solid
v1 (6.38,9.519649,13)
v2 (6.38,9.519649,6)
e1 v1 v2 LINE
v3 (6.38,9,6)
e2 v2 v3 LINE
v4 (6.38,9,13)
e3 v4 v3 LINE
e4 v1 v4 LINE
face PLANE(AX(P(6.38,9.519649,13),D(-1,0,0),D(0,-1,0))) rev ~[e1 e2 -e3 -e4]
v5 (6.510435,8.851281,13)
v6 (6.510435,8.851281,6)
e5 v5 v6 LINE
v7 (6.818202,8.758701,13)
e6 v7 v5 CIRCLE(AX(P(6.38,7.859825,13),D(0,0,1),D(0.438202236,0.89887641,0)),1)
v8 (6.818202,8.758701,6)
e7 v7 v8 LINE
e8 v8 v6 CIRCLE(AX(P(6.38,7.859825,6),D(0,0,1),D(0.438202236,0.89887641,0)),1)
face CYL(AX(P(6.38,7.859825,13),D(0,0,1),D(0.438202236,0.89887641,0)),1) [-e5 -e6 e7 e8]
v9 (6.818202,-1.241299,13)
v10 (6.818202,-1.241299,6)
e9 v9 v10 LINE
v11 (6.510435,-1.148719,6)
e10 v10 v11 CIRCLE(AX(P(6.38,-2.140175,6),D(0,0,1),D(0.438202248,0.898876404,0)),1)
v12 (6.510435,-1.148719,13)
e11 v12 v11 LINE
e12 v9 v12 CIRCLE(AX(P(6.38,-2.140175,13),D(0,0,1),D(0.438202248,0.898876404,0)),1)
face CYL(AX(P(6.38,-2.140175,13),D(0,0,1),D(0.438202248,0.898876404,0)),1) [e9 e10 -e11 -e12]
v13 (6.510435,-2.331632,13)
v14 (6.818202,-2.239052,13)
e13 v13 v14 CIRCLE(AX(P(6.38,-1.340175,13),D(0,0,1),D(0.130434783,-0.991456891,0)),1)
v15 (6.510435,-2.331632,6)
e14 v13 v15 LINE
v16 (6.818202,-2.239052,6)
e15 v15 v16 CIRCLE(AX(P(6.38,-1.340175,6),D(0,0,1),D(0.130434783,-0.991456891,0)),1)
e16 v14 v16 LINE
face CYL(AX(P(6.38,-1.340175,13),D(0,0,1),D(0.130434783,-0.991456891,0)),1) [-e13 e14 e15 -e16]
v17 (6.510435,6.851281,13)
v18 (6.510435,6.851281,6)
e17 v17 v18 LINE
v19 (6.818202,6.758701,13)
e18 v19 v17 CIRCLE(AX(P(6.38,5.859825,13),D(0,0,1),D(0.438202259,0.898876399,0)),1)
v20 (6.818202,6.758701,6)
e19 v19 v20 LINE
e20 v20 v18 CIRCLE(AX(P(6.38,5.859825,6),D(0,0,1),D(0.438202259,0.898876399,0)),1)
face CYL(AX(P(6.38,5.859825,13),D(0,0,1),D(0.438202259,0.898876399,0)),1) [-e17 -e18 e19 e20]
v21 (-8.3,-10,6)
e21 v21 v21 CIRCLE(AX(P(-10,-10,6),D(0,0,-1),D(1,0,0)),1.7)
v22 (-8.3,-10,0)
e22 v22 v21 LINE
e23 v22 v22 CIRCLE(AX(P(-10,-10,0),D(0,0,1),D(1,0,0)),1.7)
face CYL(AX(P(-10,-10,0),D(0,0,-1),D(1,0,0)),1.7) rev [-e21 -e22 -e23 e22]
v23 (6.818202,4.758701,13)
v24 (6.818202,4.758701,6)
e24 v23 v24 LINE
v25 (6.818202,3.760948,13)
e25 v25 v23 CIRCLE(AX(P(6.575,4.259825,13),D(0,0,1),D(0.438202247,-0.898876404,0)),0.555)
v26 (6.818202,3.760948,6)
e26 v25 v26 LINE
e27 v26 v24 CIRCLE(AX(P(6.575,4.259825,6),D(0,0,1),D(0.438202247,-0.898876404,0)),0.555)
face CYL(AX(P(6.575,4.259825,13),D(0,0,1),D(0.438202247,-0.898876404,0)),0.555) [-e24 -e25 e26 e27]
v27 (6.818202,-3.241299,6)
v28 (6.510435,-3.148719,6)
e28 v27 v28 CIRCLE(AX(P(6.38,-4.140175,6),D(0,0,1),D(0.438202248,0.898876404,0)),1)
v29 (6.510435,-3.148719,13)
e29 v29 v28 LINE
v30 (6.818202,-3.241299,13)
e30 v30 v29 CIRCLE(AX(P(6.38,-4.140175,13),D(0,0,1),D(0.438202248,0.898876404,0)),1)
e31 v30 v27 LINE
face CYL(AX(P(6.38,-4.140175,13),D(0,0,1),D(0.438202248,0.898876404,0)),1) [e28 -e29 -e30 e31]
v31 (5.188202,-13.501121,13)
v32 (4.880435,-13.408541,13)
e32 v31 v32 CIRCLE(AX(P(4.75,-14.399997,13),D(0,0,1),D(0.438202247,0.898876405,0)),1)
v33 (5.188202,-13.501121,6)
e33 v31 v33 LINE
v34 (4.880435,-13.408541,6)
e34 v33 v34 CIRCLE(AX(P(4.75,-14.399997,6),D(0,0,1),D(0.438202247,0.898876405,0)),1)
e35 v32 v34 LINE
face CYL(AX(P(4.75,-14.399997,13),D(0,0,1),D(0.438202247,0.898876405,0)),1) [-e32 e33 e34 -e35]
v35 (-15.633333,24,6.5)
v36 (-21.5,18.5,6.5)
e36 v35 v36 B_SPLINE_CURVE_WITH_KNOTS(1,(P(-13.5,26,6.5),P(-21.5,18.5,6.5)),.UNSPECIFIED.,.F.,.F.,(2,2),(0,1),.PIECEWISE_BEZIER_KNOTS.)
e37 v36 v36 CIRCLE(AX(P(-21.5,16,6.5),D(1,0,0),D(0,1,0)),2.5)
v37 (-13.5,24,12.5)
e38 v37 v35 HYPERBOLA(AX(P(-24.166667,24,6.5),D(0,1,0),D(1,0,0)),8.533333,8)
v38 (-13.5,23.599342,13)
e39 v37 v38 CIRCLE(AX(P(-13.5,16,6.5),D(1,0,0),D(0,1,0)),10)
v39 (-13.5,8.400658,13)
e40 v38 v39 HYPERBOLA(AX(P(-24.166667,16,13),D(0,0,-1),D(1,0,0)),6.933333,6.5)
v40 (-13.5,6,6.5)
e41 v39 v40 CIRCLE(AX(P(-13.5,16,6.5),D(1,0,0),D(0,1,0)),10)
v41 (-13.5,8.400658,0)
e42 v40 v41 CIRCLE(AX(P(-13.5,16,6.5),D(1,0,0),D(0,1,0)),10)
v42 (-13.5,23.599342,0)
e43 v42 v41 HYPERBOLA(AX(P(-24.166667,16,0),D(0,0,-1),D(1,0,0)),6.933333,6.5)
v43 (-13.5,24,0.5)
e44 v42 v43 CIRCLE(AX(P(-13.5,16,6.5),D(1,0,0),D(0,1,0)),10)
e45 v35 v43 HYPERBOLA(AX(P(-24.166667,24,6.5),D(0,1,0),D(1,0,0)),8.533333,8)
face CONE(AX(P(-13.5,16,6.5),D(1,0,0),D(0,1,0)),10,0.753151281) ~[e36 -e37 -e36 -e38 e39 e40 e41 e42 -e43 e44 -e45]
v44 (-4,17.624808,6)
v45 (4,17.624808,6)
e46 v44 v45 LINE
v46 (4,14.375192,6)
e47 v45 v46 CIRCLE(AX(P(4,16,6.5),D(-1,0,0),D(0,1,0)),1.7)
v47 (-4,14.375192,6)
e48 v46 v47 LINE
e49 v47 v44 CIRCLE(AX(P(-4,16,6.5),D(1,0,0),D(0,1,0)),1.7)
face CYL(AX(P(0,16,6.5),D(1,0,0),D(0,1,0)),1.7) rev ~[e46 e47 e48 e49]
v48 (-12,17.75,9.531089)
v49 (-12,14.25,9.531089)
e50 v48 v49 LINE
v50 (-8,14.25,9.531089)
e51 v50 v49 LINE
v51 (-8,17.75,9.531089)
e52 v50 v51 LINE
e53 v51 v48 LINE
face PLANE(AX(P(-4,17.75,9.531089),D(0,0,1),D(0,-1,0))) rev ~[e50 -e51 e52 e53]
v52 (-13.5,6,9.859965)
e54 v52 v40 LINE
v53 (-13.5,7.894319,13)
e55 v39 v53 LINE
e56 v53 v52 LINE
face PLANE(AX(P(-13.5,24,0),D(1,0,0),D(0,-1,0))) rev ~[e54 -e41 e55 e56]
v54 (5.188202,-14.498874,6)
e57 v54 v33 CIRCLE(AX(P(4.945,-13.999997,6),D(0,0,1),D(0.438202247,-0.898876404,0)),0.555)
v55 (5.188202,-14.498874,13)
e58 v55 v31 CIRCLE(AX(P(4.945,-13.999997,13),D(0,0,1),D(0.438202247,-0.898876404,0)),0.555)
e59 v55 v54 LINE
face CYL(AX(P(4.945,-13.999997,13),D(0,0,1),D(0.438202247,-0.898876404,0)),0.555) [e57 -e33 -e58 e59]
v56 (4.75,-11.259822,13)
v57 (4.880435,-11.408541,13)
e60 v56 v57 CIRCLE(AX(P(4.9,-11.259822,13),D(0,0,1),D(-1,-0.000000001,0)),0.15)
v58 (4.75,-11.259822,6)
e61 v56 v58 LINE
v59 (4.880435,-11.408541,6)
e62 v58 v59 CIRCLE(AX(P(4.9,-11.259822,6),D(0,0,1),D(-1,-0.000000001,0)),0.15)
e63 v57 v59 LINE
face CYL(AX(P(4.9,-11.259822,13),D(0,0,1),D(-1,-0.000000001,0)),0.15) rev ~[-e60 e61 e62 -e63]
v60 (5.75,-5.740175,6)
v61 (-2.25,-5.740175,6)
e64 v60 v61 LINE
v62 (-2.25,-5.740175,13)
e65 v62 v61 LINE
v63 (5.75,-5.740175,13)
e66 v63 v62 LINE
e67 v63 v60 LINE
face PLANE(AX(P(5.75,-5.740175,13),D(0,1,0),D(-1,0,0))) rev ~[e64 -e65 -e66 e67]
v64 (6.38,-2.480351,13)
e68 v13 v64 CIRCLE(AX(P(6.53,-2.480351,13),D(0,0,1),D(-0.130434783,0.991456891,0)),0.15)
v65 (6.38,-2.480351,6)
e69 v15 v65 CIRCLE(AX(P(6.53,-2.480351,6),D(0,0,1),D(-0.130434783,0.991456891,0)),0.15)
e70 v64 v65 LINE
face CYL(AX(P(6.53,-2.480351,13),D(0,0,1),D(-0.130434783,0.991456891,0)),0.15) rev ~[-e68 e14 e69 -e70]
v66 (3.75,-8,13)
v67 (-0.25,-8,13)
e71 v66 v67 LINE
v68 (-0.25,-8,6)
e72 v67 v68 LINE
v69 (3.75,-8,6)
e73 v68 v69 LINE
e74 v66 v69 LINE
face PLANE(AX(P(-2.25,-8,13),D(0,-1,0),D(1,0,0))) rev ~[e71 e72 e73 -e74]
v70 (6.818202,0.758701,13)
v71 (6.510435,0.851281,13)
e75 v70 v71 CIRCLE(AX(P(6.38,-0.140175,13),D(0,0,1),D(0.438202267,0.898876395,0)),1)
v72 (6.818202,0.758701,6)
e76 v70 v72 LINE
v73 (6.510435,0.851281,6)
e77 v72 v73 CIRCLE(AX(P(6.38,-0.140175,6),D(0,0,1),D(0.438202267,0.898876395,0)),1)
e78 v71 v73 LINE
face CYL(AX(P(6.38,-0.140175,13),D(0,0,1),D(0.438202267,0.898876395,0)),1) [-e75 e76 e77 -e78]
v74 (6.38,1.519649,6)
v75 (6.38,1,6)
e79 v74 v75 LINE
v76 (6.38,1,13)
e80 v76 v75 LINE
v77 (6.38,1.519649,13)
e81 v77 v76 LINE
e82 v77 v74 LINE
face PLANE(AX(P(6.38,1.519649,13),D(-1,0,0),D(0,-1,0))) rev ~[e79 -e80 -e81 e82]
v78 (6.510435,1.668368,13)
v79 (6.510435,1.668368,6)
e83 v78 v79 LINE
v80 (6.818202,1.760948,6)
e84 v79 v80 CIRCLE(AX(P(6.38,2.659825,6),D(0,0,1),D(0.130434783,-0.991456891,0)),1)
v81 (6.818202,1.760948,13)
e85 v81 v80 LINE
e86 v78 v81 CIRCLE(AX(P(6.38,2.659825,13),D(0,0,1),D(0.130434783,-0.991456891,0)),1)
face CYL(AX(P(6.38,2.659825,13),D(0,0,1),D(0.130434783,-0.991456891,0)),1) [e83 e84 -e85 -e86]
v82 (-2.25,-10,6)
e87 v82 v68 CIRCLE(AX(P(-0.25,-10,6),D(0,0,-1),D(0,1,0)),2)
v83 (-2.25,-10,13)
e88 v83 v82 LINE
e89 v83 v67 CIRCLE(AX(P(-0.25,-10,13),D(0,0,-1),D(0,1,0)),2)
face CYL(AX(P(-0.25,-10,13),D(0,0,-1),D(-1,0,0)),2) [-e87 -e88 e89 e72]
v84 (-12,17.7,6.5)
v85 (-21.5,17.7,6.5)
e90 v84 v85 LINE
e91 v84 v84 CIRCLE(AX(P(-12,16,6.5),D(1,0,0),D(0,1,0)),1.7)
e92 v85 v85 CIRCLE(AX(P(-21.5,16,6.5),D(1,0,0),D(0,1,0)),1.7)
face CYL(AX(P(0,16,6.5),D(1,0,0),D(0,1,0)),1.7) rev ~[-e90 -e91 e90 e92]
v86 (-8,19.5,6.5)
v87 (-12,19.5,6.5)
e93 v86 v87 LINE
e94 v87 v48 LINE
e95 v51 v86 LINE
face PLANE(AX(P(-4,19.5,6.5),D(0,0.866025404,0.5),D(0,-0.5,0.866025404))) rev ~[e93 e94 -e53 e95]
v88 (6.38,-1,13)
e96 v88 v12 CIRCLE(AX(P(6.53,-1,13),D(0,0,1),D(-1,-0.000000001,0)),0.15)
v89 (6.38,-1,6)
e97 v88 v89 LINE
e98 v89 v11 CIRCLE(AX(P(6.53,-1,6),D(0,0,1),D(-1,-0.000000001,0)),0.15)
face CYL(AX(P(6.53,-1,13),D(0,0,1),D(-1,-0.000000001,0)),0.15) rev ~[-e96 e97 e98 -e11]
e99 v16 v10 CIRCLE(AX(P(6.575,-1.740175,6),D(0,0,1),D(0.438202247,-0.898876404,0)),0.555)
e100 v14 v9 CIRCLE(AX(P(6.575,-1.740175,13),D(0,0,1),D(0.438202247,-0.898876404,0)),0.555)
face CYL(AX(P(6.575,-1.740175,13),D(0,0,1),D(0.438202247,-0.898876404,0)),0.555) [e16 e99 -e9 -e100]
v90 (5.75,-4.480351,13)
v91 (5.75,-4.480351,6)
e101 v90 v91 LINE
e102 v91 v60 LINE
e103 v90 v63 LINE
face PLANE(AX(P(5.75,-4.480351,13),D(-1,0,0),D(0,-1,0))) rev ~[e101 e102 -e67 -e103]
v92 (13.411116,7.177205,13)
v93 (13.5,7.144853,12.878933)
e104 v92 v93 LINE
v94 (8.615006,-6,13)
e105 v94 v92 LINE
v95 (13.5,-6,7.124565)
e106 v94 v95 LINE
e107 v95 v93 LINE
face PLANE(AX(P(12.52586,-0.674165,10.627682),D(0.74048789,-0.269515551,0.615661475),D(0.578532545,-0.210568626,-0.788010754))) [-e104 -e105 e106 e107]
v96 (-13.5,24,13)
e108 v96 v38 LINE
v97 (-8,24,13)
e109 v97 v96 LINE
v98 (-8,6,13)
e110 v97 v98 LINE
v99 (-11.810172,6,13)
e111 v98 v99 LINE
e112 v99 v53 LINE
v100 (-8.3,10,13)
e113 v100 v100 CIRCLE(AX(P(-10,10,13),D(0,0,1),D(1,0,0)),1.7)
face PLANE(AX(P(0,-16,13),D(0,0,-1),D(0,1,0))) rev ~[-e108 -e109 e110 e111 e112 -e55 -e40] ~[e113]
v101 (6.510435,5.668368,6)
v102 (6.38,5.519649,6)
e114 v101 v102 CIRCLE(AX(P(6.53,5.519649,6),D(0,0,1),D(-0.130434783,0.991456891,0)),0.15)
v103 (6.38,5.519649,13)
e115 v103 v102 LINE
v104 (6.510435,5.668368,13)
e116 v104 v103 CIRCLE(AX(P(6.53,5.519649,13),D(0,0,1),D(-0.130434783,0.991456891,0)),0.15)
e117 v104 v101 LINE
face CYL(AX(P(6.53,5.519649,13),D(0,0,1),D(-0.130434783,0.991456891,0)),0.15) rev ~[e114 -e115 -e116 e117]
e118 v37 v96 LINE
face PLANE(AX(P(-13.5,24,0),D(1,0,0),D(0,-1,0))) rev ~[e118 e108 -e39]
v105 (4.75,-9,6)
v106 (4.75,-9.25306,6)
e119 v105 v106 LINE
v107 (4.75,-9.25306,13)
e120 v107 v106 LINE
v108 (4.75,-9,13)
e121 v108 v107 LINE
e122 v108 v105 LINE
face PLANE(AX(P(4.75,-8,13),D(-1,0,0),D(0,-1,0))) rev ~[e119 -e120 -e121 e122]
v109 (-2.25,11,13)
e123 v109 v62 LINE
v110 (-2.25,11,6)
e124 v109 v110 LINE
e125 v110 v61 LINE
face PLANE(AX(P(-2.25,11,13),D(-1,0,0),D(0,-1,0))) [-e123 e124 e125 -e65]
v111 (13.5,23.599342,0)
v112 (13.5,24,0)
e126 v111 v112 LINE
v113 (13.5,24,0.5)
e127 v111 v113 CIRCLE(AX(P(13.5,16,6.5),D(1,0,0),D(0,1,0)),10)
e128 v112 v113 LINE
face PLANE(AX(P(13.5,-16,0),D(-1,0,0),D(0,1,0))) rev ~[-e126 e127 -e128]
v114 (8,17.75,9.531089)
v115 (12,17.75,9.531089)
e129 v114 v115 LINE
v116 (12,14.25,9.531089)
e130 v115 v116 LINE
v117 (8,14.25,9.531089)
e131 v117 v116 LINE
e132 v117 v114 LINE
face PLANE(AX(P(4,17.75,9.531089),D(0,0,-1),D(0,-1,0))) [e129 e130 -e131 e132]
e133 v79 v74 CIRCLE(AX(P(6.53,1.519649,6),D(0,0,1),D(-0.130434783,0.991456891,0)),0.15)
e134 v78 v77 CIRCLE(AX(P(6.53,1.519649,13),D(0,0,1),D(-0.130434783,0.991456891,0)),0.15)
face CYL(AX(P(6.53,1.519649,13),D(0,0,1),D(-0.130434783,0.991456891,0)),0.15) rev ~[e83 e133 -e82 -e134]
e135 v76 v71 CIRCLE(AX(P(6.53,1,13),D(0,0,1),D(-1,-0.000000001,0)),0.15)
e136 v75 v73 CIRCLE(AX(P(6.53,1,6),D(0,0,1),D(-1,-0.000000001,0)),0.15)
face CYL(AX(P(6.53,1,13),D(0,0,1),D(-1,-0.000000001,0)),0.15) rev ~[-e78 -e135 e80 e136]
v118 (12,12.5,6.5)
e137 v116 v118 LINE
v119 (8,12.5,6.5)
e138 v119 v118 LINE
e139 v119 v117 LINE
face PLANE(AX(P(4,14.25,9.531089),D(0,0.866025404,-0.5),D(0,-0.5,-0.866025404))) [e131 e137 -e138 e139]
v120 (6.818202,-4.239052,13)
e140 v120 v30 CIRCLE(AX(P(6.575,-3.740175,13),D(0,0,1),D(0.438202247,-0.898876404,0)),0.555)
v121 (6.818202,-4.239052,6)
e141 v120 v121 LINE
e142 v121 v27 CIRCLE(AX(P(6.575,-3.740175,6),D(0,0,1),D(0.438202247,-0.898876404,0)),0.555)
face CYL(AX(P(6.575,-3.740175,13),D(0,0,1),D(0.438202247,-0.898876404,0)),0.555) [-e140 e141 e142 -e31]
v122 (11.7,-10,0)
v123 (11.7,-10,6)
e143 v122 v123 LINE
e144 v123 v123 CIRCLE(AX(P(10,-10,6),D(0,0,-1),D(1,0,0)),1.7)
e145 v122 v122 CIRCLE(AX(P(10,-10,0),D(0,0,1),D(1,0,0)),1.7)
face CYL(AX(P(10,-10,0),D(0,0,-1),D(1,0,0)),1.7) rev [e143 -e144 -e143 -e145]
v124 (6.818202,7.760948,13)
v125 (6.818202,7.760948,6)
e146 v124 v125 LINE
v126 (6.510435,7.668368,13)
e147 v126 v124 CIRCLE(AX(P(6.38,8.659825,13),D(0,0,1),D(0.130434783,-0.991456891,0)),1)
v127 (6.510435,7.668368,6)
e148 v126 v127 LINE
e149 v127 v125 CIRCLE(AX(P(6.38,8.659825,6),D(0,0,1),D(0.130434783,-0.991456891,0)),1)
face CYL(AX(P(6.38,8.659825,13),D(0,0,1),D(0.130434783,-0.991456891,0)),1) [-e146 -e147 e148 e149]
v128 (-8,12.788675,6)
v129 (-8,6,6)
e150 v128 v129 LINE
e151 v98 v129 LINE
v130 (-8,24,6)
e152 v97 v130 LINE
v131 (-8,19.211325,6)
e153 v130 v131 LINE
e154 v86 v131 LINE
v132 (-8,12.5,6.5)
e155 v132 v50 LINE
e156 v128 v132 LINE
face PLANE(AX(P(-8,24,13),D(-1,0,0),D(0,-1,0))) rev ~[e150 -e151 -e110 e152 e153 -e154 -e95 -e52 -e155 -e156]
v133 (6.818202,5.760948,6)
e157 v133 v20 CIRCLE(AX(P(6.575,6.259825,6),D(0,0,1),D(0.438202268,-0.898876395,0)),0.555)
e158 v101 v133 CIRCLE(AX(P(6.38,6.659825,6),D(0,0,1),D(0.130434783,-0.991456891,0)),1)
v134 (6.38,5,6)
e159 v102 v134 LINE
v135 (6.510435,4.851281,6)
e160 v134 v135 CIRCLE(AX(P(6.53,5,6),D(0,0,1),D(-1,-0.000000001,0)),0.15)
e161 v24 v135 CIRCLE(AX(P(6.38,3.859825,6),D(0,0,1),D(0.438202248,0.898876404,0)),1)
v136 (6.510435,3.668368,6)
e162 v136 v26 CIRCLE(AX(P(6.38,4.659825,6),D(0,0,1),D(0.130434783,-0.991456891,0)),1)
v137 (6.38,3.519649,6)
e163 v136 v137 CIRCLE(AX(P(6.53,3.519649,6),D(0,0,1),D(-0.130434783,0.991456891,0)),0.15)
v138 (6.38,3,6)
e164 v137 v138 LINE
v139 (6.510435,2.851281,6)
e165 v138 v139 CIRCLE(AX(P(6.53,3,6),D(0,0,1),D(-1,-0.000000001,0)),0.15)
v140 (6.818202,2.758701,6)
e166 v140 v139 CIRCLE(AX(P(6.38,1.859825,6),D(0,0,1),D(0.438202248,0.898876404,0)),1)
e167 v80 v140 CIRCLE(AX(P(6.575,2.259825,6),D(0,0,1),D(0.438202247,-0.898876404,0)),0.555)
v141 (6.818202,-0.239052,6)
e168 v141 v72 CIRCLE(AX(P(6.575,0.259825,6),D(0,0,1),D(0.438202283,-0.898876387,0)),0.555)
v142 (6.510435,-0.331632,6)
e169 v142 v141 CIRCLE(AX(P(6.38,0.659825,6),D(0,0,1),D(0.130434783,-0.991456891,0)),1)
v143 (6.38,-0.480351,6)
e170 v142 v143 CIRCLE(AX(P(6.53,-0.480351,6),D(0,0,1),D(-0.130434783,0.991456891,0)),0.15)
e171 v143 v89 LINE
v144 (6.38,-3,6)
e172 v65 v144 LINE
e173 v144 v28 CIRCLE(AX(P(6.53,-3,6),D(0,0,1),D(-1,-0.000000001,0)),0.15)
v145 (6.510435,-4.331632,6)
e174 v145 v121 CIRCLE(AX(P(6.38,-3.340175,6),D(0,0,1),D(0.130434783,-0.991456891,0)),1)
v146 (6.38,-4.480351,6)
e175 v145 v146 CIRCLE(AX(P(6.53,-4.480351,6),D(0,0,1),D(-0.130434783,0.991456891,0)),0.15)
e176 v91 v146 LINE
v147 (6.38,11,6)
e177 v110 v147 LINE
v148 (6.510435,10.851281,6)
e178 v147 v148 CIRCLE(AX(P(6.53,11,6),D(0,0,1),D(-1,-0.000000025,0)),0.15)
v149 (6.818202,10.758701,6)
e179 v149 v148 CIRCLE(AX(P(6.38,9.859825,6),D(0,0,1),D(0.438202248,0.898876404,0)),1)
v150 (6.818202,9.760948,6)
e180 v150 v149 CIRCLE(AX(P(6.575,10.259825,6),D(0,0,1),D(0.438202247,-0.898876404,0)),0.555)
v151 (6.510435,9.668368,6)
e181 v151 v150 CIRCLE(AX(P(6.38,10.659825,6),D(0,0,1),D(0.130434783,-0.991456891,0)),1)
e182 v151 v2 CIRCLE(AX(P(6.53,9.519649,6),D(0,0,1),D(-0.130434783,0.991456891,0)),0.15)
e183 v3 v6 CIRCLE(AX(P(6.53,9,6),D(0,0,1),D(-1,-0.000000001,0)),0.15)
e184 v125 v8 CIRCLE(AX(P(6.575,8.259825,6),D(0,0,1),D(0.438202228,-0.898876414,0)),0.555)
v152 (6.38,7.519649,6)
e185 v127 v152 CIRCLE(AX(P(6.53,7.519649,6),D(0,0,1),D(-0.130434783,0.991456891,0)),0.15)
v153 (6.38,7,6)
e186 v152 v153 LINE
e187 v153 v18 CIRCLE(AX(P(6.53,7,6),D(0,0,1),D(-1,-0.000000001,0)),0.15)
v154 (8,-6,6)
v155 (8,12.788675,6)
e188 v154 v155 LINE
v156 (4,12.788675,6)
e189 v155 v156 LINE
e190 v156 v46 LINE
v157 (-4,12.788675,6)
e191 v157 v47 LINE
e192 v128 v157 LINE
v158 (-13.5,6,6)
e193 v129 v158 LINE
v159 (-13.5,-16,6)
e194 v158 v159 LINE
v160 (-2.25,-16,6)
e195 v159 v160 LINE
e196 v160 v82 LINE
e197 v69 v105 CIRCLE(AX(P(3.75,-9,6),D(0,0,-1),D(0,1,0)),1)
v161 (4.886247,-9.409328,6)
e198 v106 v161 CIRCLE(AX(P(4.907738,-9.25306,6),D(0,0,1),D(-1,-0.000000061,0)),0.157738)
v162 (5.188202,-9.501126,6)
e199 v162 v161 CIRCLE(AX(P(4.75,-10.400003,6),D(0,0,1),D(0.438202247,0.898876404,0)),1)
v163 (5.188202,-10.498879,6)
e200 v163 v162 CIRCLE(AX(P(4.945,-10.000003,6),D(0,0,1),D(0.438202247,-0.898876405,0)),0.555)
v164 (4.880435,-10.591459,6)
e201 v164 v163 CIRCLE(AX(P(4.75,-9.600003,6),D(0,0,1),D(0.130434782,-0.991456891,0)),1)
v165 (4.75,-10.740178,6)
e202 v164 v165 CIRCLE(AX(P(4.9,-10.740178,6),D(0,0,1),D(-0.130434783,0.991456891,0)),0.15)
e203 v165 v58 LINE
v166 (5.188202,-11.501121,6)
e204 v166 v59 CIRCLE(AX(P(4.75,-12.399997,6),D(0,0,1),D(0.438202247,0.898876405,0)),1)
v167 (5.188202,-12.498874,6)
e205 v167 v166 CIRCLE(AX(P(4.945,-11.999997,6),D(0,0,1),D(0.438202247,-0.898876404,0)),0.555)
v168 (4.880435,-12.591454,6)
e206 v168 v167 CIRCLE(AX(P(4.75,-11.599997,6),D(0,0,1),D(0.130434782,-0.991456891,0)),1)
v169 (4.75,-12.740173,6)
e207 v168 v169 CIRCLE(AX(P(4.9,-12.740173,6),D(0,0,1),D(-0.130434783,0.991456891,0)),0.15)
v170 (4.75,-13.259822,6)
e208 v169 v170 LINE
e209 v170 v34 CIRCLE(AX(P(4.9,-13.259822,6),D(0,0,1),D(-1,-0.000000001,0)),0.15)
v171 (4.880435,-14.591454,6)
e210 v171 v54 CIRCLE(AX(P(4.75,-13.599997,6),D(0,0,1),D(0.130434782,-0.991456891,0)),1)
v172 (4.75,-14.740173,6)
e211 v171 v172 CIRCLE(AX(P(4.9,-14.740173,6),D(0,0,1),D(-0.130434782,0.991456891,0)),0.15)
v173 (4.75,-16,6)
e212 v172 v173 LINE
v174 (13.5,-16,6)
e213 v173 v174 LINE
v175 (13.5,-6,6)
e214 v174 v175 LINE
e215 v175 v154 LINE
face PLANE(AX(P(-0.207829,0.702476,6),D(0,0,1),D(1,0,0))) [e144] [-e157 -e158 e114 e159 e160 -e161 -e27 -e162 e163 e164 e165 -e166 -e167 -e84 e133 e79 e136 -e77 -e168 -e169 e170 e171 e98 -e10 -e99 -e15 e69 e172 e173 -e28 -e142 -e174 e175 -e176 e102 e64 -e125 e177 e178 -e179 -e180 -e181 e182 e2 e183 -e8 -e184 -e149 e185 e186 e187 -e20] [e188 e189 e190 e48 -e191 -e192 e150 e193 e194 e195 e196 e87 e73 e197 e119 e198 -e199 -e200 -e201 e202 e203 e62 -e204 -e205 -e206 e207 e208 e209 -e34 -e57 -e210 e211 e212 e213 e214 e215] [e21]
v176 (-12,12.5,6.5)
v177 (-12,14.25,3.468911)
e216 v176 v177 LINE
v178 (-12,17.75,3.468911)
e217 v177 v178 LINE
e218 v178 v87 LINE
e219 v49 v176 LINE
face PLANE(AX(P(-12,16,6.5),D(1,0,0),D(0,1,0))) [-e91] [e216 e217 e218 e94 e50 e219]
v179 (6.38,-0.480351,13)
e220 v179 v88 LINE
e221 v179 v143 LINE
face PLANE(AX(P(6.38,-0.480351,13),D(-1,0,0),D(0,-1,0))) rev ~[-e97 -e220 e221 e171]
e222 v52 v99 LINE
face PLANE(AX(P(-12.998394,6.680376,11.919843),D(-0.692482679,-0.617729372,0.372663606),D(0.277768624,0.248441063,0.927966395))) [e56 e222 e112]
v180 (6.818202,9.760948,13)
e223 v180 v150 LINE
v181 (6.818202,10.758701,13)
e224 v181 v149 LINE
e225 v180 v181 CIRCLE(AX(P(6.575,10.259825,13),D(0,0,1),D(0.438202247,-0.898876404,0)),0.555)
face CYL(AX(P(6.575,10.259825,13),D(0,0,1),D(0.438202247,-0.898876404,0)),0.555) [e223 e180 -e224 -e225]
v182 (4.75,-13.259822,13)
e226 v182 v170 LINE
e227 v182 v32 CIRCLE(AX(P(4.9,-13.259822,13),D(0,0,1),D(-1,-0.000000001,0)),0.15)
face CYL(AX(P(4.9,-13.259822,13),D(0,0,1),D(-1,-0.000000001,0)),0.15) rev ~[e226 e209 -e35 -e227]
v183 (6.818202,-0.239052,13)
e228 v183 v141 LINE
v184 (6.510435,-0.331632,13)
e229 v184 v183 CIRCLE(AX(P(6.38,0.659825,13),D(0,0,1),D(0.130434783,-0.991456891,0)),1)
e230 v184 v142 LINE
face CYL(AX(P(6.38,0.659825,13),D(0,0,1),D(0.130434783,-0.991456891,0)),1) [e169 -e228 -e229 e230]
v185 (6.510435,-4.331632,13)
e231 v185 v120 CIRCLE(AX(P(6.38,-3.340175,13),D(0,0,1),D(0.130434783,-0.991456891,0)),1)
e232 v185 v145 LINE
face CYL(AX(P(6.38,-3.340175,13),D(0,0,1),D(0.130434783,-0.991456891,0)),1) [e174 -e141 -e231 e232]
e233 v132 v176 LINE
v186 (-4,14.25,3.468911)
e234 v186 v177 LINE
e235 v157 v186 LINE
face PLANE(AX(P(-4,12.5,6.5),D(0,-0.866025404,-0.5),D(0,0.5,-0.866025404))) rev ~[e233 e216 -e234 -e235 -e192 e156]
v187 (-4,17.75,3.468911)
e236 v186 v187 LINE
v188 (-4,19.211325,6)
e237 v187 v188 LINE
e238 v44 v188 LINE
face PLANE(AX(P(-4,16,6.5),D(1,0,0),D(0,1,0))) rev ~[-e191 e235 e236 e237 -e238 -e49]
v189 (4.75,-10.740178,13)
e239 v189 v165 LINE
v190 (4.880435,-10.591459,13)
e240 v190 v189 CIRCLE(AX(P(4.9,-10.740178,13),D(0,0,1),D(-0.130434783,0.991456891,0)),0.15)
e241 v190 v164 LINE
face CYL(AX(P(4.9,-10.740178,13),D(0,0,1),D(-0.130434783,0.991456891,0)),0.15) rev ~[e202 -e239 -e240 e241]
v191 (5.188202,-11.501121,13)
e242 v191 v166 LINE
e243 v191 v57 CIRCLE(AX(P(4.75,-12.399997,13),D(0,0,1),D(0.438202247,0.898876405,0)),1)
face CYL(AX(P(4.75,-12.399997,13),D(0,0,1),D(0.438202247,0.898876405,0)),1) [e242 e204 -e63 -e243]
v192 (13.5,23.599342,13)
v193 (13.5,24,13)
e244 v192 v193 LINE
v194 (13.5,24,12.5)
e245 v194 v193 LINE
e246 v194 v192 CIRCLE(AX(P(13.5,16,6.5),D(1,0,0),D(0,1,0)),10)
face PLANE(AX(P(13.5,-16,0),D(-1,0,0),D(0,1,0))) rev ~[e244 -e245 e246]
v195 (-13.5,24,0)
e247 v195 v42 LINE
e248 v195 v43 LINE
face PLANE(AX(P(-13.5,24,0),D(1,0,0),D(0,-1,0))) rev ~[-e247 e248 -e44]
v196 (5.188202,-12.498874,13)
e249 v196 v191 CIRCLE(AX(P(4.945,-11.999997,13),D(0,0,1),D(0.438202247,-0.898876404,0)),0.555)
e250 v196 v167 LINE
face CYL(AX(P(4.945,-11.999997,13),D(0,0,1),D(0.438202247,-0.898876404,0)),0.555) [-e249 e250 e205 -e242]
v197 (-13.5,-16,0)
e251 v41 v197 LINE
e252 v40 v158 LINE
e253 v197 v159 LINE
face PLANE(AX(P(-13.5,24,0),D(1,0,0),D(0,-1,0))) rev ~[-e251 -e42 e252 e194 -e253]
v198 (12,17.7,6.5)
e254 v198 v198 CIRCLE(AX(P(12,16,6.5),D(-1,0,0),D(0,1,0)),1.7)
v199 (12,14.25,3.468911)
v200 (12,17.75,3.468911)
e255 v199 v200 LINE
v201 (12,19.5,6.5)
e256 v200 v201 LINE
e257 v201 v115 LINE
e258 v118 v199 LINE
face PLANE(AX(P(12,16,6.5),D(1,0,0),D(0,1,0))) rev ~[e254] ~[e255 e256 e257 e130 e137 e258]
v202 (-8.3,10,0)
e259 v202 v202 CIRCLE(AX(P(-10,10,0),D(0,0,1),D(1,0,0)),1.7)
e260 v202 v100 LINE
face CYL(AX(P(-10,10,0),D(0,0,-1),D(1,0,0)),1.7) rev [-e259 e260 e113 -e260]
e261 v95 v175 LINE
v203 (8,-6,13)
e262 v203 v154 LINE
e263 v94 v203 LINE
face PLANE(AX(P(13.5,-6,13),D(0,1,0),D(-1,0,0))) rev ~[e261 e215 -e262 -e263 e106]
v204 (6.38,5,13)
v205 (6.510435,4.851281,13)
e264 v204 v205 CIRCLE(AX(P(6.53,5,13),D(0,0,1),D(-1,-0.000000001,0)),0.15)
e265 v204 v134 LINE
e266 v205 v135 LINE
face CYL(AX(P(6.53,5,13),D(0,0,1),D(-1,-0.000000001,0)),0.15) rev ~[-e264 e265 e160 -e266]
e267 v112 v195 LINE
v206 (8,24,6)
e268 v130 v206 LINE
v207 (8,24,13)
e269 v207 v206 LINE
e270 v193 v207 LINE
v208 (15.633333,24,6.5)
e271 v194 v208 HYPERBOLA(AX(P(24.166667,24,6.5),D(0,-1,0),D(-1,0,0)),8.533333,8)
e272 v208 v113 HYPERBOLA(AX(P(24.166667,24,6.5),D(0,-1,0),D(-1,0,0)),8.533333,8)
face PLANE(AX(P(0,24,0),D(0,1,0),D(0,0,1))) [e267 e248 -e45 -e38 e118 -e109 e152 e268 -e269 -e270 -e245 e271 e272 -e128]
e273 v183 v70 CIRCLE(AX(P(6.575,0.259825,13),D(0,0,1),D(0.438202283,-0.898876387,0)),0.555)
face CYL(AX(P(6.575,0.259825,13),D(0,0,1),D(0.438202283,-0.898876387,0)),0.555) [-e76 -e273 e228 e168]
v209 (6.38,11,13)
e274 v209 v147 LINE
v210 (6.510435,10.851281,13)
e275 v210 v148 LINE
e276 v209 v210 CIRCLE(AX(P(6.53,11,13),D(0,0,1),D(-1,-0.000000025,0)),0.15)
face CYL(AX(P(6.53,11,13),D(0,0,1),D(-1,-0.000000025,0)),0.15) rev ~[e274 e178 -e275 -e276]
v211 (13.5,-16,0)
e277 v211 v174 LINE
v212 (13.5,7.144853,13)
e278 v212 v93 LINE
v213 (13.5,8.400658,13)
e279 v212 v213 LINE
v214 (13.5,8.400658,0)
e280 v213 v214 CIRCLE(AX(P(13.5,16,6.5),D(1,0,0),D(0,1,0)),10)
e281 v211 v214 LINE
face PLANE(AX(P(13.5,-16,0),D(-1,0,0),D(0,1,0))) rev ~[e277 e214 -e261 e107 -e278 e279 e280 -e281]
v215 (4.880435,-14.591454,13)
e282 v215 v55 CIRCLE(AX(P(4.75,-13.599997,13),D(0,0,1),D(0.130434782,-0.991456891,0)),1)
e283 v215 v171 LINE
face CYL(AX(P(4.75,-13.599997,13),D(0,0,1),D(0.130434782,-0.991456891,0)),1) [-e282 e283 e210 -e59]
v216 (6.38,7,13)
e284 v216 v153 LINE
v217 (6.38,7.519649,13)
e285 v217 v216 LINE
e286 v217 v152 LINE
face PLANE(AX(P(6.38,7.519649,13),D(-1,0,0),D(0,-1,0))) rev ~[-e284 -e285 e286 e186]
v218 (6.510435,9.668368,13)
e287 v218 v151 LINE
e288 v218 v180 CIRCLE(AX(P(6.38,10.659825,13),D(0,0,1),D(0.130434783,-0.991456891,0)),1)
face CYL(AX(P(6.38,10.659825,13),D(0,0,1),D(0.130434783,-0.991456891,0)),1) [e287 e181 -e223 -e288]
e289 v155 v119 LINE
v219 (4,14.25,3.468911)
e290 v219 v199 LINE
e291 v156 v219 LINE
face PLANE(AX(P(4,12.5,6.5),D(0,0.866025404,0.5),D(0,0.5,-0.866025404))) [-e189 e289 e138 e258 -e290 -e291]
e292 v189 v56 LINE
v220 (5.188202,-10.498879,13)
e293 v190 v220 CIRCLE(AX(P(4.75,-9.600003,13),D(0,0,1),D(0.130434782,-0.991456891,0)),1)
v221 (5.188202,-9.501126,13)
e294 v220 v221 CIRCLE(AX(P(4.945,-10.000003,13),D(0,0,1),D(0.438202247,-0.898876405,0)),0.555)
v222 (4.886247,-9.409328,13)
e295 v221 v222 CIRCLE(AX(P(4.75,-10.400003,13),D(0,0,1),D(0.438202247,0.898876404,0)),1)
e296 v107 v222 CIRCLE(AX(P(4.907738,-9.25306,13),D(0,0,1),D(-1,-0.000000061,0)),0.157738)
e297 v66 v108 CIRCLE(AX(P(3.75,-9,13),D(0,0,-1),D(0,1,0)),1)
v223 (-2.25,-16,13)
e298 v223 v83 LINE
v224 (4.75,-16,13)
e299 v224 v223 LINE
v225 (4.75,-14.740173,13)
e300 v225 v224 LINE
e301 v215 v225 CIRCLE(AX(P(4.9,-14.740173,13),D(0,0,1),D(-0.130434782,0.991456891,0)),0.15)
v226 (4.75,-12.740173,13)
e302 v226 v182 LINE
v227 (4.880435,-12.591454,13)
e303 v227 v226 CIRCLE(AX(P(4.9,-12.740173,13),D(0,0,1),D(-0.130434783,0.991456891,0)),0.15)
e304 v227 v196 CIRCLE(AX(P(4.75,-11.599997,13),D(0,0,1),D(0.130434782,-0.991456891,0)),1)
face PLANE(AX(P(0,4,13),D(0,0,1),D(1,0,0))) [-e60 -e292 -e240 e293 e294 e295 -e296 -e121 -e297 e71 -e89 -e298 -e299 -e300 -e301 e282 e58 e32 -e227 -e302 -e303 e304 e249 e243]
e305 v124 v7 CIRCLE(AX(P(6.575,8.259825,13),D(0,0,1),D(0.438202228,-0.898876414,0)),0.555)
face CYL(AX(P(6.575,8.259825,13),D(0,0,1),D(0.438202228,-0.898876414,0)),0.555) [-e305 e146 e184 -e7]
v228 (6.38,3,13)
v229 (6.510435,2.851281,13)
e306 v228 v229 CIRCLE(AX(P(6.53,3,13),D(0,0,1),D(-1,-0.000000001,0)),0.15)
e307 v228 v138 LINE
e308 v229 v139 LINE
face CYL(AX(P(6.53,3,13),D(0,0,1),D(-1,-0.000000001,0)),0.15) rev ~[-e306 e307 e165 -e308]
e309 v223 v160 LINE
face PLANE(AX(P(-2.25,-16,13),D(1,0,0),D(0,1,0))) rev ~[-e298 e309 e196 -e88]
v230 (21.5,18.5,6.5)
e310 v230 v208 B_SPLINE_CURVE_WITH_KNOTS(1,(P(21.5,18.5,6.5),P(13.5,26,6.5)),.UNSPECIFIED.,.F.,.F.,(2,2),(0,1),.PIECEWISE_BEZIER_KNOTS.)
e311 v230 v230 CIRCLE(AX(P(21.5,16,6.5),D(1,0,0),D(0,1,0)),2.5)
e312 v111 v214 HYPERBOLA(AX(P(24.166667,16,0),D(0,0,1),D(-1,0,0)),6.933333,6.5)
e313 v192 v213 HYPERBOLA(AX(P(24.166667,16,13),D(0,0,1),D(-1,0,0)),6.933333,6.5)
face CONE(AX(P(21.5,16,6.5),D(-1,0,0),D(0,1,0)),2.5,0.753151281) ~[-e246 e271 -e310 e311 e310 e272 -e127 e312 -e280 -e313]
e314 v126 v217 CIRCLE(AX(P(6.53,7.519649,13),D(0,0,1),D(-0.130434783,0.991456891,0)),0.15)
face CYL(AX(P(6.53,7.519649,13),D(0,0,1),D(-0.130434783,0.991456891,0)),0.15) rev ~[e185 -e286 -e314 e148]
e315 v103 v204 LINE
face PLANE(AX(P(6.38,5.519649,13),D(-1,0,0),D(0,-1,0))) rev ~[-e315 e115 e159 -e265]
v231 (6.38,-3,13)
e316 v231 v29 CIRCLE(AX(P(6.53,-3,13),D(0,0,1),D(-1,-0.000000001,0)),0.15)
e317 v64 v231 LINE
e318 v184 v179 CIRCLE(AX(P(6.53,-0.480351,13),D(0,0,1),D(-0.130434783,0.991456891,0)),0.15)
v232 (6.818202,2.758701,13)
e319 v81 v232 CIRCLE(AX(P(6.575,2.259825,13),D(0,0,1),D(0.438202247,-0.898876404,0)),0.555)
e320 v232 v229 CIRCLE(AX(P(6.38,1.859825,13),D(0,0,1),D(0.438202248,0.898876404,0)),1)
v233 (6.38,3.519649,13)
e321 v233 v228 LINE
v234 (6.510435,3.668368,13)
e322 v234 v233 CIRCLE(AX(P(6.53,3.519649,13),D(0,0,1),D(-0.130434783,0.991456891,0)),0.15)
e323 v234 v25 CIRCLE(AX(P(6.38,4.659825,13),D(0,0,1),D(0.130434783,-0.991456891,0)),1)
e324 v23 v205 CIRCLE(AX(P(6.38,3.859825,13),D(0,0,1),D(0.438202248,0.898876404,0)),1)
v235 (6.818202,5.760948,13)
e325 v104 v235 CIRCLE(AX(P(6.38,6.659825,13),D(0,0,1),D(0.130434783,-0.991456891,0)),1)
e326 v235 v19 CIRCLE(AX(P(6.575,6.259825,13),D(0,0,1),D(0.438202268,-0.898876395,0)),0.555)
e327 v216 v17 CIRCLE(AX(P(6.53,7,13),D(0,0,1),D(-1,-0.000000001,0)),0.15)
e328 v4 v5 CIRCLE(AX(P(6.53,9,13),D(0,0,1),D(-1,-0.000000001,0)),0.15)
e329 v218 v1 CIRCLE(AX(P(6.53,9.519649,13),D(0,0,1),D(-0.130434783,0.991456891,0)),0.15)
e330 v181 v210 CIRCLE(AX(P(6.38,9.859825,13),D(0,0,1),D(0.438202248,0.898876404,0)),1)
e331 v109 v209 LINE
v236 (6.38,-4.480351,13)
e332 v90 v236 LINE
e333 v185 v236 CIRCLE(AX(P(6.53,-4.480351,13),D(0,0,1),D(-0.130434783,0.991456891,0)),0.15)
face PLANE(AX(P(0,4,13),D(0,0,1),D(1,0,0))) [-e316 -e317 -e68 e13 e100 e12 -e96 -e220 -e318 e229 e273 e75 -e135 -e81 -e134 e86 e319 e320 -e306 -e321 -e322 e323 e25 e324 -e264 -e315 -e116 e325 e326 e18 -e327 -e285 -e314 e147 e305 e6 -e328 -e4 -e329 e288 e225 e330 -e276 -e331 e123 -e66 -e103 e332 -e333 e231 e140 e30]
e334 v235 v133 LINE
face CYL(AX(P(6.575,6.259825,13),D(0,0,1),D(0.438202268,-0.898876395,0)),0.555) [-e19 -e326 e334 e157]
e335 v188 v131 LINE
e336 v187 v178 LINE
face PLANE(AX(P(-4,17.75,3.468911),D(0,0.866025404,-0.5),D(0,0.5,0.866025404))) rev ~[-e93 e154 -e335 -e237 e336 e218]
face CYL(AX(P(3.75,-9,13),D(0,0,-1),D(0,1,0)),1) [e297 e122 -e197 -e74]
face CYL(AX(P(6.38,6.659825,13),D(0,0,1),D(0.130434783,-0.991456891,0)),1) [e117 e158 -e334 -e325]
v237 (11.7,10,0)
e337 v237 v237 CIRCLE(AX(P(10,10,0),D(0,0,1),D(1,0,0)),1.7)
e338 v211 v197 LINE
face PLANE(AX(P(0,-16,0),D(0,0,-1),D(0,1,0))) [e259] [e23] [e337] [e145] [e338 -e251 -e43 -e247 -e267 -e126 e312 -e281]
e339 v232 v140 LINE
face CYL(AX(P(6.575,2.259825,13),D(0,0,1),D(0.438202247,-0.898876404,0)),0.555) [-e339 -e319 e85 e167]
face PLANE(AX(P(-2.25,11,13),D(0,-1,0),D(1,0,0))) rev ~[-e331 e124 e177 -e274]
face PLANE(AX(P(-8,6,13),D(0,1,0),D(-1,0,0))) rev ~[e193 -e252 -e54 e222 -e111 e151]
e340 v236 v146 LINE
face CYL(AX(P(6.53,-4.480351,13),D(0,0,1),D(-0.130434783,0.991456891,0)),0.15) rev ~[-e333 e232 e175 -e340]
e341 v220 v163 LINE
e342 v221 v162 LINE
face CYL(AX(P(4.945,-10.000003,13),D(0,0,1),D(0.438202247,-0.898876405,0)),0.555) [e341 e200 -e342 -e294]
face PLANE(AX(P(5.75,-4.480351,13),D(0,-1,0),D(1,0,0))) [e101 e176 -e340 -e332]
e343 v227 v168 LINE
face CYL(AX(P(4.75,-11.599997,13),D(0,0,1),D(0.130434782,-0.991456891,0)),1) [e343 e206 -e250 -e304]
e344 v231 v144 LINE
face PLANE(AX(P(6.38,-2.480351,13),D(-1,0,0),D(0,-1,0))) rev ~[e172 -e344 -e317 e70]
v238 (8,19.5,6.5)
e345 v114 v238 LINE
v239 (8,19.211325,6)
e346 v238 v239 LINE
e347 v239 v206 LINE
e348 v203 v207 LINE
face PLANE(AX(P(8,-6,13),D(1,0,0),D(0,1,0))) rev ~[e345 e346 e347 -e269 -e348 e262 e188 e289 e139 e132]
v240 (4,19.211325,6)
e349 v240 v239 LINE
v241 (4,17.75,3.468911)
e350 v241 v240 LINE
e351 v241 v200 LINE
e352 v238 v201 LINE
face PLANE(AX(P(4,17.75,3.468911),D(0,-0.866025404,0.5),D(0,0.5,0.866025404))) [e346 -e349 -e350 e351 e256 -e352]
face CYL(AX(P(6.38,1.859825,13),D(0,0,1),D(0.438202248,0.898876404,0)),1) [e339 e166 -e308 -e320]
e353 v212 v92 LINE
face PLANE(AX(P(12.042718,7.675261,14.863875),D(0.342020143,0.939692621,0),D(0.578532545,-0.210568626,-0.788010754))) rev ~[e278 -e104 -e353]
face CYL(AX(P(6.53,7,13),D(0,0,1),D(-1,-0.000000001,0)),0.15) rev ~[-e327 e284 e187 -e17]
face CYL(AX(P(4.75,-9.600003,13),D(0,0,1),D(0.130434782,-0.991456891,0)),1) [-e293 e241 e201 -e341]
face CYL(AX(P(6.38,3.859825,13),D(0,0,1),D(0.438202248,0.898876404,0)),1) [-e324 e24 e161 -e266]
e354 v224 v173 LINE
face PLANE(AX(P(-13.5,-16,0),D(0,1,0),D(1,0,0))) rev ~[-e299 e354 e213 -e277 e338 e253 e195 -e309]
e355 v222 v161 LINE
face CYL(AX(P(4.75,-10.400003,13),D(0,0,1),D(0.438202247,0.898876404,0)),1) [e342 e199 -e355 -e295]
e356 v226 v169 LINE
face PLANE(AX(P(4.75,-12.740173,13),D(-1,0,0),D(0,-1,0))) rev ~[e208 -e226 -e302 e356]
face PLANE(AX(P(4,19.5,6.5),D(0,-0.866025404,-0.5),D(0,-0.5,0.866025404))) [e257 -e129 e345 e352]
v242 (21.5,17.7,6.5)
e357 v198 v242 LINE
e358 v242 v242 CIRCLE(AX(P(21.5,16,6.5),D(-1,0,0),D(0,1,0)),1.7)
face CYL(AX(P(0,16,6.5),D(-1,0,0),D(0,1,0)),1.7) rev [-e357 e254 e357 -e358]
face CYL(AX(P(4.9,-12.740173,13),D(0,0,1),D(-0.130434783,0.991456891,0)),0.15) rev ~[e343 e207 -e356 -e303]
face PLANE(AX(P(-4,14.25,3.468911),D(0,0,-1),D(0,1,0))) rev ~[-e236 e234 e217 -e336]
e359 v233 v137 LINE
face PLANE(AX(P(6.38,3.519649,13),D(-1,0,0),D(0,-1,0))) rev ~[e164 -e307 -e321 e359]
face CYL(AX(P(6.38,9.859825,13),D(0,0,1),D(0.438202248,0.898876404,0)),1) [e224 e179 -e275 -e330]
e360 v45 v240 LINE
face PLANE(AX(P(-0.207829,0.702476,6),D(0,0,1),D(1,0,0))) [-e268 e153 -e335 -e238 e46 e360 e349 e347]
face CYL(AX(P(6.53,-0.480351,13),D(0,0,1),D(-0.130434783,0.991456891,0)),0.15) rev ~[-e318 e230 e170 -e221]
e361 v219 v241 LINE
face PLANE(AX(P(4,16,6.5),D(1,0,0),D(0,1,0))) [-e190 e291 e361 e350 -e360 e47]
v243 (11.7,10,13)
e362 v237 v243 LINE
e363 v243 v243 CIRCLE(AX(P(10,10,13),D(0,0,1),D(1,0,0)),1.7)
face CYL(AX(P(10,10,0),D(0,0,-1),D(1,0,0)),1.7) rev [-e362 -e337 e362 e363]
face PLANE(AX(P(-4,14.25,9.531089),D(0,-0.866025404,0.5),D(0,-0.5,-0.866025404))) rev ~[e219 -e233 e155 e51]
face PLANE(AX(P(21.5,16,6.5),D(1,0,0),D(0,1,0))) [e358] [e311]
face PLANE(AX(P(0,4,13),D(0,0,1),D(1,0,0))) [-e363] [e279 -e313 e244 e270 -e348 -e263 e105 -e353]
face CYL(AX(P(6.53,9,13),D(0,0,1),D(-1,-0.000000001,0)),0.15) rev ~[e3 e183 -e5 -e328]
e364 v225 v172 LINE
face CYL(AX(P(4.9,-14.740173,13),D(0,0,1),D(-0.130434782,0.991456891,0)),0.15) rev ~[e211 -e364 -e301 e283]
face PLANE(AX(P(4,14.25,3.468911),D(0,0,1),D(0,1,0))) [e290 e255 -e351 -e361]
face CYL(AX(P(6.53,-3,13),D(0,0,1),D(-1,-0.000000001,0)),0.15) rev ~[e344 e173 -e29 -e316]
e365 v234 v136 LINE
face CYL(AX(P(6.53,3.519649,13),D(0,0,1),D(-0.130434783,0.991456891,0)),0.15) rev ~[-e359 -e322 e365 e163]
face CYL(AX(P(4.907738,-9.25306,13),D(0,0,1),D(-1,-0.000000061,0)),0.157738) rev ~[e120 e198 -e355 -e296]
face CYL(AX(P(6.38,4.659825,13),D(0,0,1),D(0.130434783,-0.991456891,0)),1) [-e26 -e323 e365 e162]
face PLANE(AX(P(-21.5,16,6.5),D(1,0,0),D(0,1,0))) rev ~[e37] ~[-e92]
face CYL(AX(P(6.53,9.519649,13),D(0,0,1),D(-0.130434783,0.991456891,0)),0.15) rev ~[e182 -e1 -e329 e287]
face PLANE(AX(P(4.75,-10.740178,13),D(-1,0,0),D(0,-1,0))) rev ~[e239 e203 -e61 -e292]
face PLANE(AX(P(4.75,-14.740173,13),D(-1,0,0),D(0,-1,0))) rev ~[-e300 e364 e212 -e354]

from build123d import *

# Parameters (mm, degrees)
SKETCH064_R          = 1.7
PAD017_DEPTH         = 13
POCKET034_DEPTH      = 7
POCKET035_DEPTH      = 8
POCKET036_DEPTH      = 8
SKETCH069_R          = 2.5
SKETCH070_R          = 10
SKETCH072_R          = 10
SKETCH071_R          = 2.5
SKETCH066_R          = 1.7
POCKET037_DEPTH      = 21.5010001
POCKET037_DEPTH_BACK = 21.5010001
SKETCH073_W          = 57.890867
SKETCH073_H          = 28.005435
SKETCH073_W_2        = 40
SKETCH073_H_2        = 13
POCKET038_DEPTH      = 21.5010001
POCKET038_DEPTH_BACK = 21.5010001
SKETCH074_W          = 10.751613
SKETCH074_H          = 15.361299
POCKET039_DEPTH      = 5
SKETCH075_W          = 5.428132
SKETCH075_H          = 4.529939
POCKET040_DEPTH      = 5
FILLET012_R          = 2
FILLET013_R          = 1


with BuildPart() as part:
    # Sketch064 → Pad017 (new body)
    with BuildSketch(Plane.XY):
        Polygon((-13.5, -16), (13.5, -16), (13.5, 6), (13.5, 24), (-13.5, 24), (-13.5, 6), align=None)
        with Locations((10, 10)):
            Circle(SKETCH064_R, mode=Mode.SUBTRACT)
        with Locations((-10, 10)):
            Circle(SKETCH064_R, mode=Mode.SUBTRACT)
        with Locations((-10, -10)):
            Circle(SKETCH064_R, mode=Mode.SUBTRACT)
        with Locations((10, -10)):
            Circle(SKETCH064_R, mode=Mode.SUBTRACT)
    extrude(amount=PAD017_DEPTH)

    # Sketch065 → Pocket034 (cut)
    with BuildSketch(Plane.XY.offset(13)):
        with BuildLine():
            Line((-2.25, -16), (-2.25, -8))
            Line((-2.25, -8), (4.25, -8))
            Line((4.25, -8), (4.75, -8))
            Line((4.75, -8), (4.75, -9.2530602323))
            ThreePointArc((4.75, -9.2530602323), (4.7888446964, -9.3567216153), (4.8862469586, -9.4093276235))
            ThreePointArc((5.1882022472, -9.5011261235), (5.0408688943, -9.4432396073), (4.8862469586, -9.4093276235))
            ThreePointArc((5.1882022472, -10.4988789324), (5.5, -10.0000025279), (5.1882022472, -9.5011261235))
            ThreePointArc((4.8804347826, -10.5914594193), (5.038062154, -10.5576142423), (5.1882022472, -10.4988789324))
            ThreePointArc((4.8804347826, -10.5914594193), (4.7872285883, -10.641270882), (4.75, -10.740177953))
            Line((4.75, -10.740177953), (4.75, -11.259822047))
            ThreePointArc((4.75, -11.259822047), (4.7872285883, -11.358729118), (4.8804347826, -11.4085405807))
            ThreePointArc((5.1882022472, -11.5011210676), (5.038062154, -11.4423857578), (4.8804347826, -11.4085405807))
            ThreePointArc((5.1882022472, -12.4988738766), (5.5, -11.9999974721), (5.1882022472, -11.5011210676))
            ThreePointArc((4.8804347826, -12.5914543635), (5.038062154, -12.5576091865), (5.1882022472, -12.4988738766))
            ThreePointArc((4.8804347826, -12.5914543635), (4.7872285883, -12.6412658262), (4.75, -12.7401728972))
            Line((4.75, -12.7401728972), (4.75, -13.259822047))
            ThreePointArc((4.75, -13.259822047), (4.7872285883, -13.358729118), (4.8804347826, -13.4085405807))
            ThreePointArc((5.1882022472, -13.5011210676), (5.038062154, -13.4423857578), (4.8804347826, -13.4085405807))
            ThreePointArc((5.1882022472, -14.4988738766), (5.5, -13.9999974721), (5.1882022472, -13.5011210676))
            ThreePointArc((4.8804347826, -14.5914543635), (5.038062154, -14.5576091865), (5.1882022472, -14.4988738766))
            ThreePointArc((4.8804347826, -14.5914543635), (4.7872285871, -14.6412658275), (4.75, -14.7401729006))
            Line((4.75, -14.7401729006), (4.75, -16))
            Line((4.75, -16), (13.5, -16))
            Line((13.5, -16), (13.5, -6))
            Line((13.5, -6), (8, -6))
            Line((8, -6), (8, 1))
            Line((8, 24), (8, 1))
            Line((8, 24), (-8, 24))
            Line((-8, 24), (-8, 6))
            Line((-8, 6), (-13.5, 6))
            Line((-13.5, 6), (-13.5, -16))
            Line((-13.5, -16), (-2.25, -16))
        make_face()
        with BuildLine():
            Line((-2.25, 11), (5.75, 11))
            Line((6.38, 11), (5.75, 11))
            ThreePointArc((6.38, 11), (6.4172285895, 10.9010929313), (6.5104347826, 10.8512814699))
            ThreePointArc((6.8182022472, 10.758700983), (6.668062154, 10.8174362929), (6.5104347826, 10.8512814699))
            ThreePointArc((6.8182022472, 9.760948174), (7.13, 10.2598245785), (6.8182022472, 10.758700983))
            ThreePointArc((6.5104347826, 9.6683676871), (6.668062154, 9.7022128642), (6.8182022472, 9.760948174))
            ThreePointArc((6.5104347826, 9.6683676871), (6.4172285883, 9.6185562244), (6.38, 9.5196491534))
            Line((6.38, 9.5196491534), (6.38, 9.0000000036))
            ThreePointArc((6.38, 9.0000000036), (6.4172285883, 8.9010929326), (6.5104347826, 8.8512814699))
            ThreePointArc((6.8182022368, 8.7587009881), (6.6680621484, 8.8174362945), (6.5104347826, 8.8512814699))
            ThreePointArc((6.8182022368, 7.760948169), (7.13, 8.2598245785), (6.8182022368, 8.7587009881))
            ThreePointArc((6.5104347826, 7.6683676871), (6.6680621484, 7.7022128625), (6.8182022368, 7.760948169))
            ThreePointArc((6.5104347826, 7.6683676871), (6.4172285883, 7.6185562244), (6.38, 7.5196491534))
            Line((6.38, 7.5196491534), (6.38, 7.0000000036))
            ThreePointArc((6.38, 7.0000000036), (6.4172285883, 6.9010929326), (6.5104347826, 6.8512814699))
            ThreePointArc((6.8182022585, 6.7587009775), (6.66806216, 6.8174362911), (6.5104347826, 6.8512814699))
            ThreePointArc((6.8182022585, 5.7609481795), (7.13, 6.2598245785), (6.8182022585, 6.7587009775))
            ThreePointArc((6.5104347826, 5.6683676871), (6.66806216, 5.702212866), (6.8182022585, 5.7609481795))
            ThreePointArc((6.5104347826, 5.6683676871), (6.4172285883, 5.6185562244), (6.38, 5.5196491534))
            Line((6.38, 5.5196491534), (6.38, 5.0000000036))
            ThreePointArc((6.38, 5.0000000036), (6.4172285883, 4.9010929326), (6.5104347826, 4.8512814699))
            ThreePointArc((6.8182022472, 4.758700983), (6.668062154, 4.8174362929), (6.5104347826, 4.8512814699))
            ThreePointArc((6.8182022472, 3.760948174), (7.13, 4.2598245785), (6.8182022472, 4.758700983))
            ThreePointArc((6.5104347826, 3.6683676871), (6.668062154, 3.7022128642), (6.8182022472, 3.760948174))
            ThreePointArc((6.5104347826, 3.6683676871), (6.4172285883, 3.6185562244), (6.38, 3.5196491534))
            Line((6.38, 3.5196491534), (6.38, 3.0000000036))
            ThreePointArc((6.38, 3.0000000036), (6.4172285883, 2.9010929326), (6.5104347826, 2.8512814699))
            ThreePointArc((6.8182022472, 2.758700983), (6.668062154, 2.8174362929), (6.5104347826, 2.8512814699))
            ThreePointArc((6.8182022472, 1.760948174), (7.13, 2.2598245785), (6.8182022472, 2.758700983))
            ThreePointArc((6.5104347826, 1.6683676871), (6.668062154, 1.7022128642), (6.8182022472, 1.760948174))
            ThreePointArc((6.5104347826, 1.6683676871), (6.4172285883, 1.6185562244), (6.38, 1.5196491534))
            Line((6.38, 1.5196491534), (6.38, 1.0000000036))
            ThreePointArc((6.38, 1.0000000036), (6.4172285883, 0.9010929326), (6.5104347826, 0.8512814699))
            ThreePointArc((6.818202267, 0.7587009734), (6.6680621645, 0.8174362897), (6.5104347826, 0.8512814699))
            ThreePointArc((6.818202267, -0.2390518163), (7.13, 0.2598245785), (6.818202267, 0.7587009734))
            ThreePointArc((6.5104347826, -0.3316323129), (6.6680621645, -0.2977871326), (6.818202267, -0.2390518163))
            ThreePointArc((6.5104347826, -0.3316323129), (6.4172285883, -0.3814437756), (6.38, -0.4803508466))
            Line((6.38, -0.4803508466), (6.38, -0.9999999964))
            ThreePointArc((6.38, -0.9999999964), (6.4172285883, -1.0989070674), (6.5104347826, -1.1487185301))
            ThreePointArc((6.8182022472, -1.241299017), (6.668062154, -1.1825637071), (6.5104347826, -1.1487185301))
            ThreePointArc((6.8182022472, -2.239051826), (7.13, -1.7401754215), (6.8182022472, -1.241299017))
            ThreePointArc((6.5104347826, -2.3316323129), (6.668062154, -2.2977871358), (6.8182022472, -2.239051826))
            ThreePointArc((6.5104347826, -2.3316323129), (6.4172285883, -2.3814437756), (6.38, -2.4803508466))
            Line((6.38, -2.4803508466), (6.38, -2.9999999964))
            ThreePointArc((6.38, -2.9999999964), (6.4172285883, -3.0989070674), (6.5104347826, -3.1487185301))
            ThreePointArc((6.8182022472, -3.241299017), (6.668062154, -3.1825637071), (6.5104347826, -3.1487185301))
            ThreePointArc((6.8182022472, -4.239051826), (7.13, -3.7401754215), (6.8182022472, -3.241299017))
            ThreePointArc((6.5104347826, -4.3316323129), (6.668062154, -4.2977871358), (6.8182022472, -4.239051826))
            ThreePointArc((6.5104347826, -4.3316323129), (6.4172285873, -4.3814437767), (6.38, -4.4803508497))
            Line((5.75, -4.4803508497), (6.38, -4.4803508497))
            Line((5.75, -4.4803508497), (5.75, -5.7401754215))
            Line((5.75, -5.7401754215), (-2.25, -5.7401754215))
            Line((-2.25, 11), (-2.25, -5.7401754215))
        make_face(mode=Mode.SUBTRACT)
    extrude(amount=-POCKET034_DEPTH, mode=Mode.SUBTRACT)

    # Sketch067 → Pocket035 (cut)
    with BuildSketch(Plane.YZ.offset(4)):
        Polygon((19.5, 6.5), (17.75, 9.5310889133), (14.25, 9.5310889133), (12.5, 6.5), (14.25, 3.4689110868), (17.75, 3.4689110868), align=None)
    extrude(amount=POCKET035_DEPTH, mode=Mode.SUBTRACT)

    # Sketch068 → Pocket036 (cut)
    with BuildSketch(Plane.YZ.offset(-4)):
        Polygon((19.5, 6.5), (17.75, 9.5310889133), (14.25, 9.5310889133), (12.5, 6.5), (14.25, 3.4689110868), (17.75, 3.4689110868), align=None)
    extrude(amount=-POCKET036_DEPTH, mode=Mode.SUBTRACT)

    # Sketch069 → AdditiveLoft002 section 0
    with BuildSketch(Plane.YZ.offset(21.5)):
        with Locations((16, 6.5)):
            Circle(SKETCH069_R)
    # Sketch070 → AdditiveLoft002 section 1
    with BuildSketch(Plane.YZ.offset(13.5)):
        with Locations((16, 6.5)):
            Circle(SKETCH070_R)
    loft()

    # Sketch072 → AdditiveLoft003 section 0
    with BuildSketch(Plane.YZ.offset(-13.5)):
        with Locations((16, 6.5)):
            Circle(SKETCH072_R)
    # Sketch071 → AdditiveLoft003 section 1
    with BuildSketch(Plane.YZ.offset(-21.5)):
        with Locations((16, 6.5)):
            Circle(SKETCH071_R)
    loft()

    # Sketch066 → Pocket037 (cut, two sides)
    with BuildSketch(Plane.YZ) as pocket037_sk:
        with Locations((16, 6.5)):
            Circle(SKETCH066_R)
    extrude(amount=-POCKET037_DEPTH, mode=Mode.SUBTRACT)
    extrude(pocket037_sk.sketch, amount=POCKET037_DEPTH_BACK, mode=Mode.SUBTRACT)

    # Sketch073 → Pocket038 (cut, two sides)
    with BuildSketch(Plane.YZ) as pocket038_sk:
        with Locations((4.9093215, 6.8553455)):
            Rectangle(SKETCH073_W, SKETCH073_H)
        with Locations((4, 6.5)):
            Rectangle(SKETCH073_W_2, SKETCH073_H_2, mode=Mode.SUBTRACT)
    extrude(amount=-POCKET038_DEPTH, mode=Mode.SUBTRACT)
    extrude(pocket038_sk.sketch, amount=POCKET038_DEPTH_BACK, mode=Mode.SUBTRACT)

    # Sketch074 (on DatumPlane) → Pocket039 (cut)
    with BuildSketch(Plane(origin=(11.8478062442, -4.3122488143, 9.8505836052), x_dir=(0.5785325453, -0.210568626, -0.7880107536), z_dir=(0.7404878903, -0.2695155509, 0.6156614753))):
        with Locations((-0.9861515, 3.6505885)):
            Rectangle(SKETCH074_W, SKETCH074_H)
    extrude(amount=POCKET039_DEPTH, mode=Mode.SUBTRACT)

    # Sketch075 (on DatumPlane) → Pocket040 (cut)
    with BuildSketch(Plane(origin=(0, 0, 25), x_dir=(0.2777686245, 0.2484410627, 0.9279663947), z_dir=(-0.6924826787, -0.6177293717, 0.3726636058))):
        with Locations((-14.088813, 13.6448355)):
            Rectangle(SKETCH075_W, SKETCH075_H)
    extrude(amount=POCKET040_DEPTH, mode=Mode.SUBTRACT)

    # Fillet012
    fillet012_edges = [part.edges().sort_by_distance(p)[0] for p in [
        (-2.25, -8, 9.5),
    ]]
    fillet(fillet012_edges, radius=FILLET012_R)

    # Fillet013
    fillet013_edges = [part.edges().sort_by_distance(p)[0] for p in [
        (4.75, -8, 9.5),
    ]]
    fillet(fillet013_edges, radius=FILLET013_R)


solid = part.part
